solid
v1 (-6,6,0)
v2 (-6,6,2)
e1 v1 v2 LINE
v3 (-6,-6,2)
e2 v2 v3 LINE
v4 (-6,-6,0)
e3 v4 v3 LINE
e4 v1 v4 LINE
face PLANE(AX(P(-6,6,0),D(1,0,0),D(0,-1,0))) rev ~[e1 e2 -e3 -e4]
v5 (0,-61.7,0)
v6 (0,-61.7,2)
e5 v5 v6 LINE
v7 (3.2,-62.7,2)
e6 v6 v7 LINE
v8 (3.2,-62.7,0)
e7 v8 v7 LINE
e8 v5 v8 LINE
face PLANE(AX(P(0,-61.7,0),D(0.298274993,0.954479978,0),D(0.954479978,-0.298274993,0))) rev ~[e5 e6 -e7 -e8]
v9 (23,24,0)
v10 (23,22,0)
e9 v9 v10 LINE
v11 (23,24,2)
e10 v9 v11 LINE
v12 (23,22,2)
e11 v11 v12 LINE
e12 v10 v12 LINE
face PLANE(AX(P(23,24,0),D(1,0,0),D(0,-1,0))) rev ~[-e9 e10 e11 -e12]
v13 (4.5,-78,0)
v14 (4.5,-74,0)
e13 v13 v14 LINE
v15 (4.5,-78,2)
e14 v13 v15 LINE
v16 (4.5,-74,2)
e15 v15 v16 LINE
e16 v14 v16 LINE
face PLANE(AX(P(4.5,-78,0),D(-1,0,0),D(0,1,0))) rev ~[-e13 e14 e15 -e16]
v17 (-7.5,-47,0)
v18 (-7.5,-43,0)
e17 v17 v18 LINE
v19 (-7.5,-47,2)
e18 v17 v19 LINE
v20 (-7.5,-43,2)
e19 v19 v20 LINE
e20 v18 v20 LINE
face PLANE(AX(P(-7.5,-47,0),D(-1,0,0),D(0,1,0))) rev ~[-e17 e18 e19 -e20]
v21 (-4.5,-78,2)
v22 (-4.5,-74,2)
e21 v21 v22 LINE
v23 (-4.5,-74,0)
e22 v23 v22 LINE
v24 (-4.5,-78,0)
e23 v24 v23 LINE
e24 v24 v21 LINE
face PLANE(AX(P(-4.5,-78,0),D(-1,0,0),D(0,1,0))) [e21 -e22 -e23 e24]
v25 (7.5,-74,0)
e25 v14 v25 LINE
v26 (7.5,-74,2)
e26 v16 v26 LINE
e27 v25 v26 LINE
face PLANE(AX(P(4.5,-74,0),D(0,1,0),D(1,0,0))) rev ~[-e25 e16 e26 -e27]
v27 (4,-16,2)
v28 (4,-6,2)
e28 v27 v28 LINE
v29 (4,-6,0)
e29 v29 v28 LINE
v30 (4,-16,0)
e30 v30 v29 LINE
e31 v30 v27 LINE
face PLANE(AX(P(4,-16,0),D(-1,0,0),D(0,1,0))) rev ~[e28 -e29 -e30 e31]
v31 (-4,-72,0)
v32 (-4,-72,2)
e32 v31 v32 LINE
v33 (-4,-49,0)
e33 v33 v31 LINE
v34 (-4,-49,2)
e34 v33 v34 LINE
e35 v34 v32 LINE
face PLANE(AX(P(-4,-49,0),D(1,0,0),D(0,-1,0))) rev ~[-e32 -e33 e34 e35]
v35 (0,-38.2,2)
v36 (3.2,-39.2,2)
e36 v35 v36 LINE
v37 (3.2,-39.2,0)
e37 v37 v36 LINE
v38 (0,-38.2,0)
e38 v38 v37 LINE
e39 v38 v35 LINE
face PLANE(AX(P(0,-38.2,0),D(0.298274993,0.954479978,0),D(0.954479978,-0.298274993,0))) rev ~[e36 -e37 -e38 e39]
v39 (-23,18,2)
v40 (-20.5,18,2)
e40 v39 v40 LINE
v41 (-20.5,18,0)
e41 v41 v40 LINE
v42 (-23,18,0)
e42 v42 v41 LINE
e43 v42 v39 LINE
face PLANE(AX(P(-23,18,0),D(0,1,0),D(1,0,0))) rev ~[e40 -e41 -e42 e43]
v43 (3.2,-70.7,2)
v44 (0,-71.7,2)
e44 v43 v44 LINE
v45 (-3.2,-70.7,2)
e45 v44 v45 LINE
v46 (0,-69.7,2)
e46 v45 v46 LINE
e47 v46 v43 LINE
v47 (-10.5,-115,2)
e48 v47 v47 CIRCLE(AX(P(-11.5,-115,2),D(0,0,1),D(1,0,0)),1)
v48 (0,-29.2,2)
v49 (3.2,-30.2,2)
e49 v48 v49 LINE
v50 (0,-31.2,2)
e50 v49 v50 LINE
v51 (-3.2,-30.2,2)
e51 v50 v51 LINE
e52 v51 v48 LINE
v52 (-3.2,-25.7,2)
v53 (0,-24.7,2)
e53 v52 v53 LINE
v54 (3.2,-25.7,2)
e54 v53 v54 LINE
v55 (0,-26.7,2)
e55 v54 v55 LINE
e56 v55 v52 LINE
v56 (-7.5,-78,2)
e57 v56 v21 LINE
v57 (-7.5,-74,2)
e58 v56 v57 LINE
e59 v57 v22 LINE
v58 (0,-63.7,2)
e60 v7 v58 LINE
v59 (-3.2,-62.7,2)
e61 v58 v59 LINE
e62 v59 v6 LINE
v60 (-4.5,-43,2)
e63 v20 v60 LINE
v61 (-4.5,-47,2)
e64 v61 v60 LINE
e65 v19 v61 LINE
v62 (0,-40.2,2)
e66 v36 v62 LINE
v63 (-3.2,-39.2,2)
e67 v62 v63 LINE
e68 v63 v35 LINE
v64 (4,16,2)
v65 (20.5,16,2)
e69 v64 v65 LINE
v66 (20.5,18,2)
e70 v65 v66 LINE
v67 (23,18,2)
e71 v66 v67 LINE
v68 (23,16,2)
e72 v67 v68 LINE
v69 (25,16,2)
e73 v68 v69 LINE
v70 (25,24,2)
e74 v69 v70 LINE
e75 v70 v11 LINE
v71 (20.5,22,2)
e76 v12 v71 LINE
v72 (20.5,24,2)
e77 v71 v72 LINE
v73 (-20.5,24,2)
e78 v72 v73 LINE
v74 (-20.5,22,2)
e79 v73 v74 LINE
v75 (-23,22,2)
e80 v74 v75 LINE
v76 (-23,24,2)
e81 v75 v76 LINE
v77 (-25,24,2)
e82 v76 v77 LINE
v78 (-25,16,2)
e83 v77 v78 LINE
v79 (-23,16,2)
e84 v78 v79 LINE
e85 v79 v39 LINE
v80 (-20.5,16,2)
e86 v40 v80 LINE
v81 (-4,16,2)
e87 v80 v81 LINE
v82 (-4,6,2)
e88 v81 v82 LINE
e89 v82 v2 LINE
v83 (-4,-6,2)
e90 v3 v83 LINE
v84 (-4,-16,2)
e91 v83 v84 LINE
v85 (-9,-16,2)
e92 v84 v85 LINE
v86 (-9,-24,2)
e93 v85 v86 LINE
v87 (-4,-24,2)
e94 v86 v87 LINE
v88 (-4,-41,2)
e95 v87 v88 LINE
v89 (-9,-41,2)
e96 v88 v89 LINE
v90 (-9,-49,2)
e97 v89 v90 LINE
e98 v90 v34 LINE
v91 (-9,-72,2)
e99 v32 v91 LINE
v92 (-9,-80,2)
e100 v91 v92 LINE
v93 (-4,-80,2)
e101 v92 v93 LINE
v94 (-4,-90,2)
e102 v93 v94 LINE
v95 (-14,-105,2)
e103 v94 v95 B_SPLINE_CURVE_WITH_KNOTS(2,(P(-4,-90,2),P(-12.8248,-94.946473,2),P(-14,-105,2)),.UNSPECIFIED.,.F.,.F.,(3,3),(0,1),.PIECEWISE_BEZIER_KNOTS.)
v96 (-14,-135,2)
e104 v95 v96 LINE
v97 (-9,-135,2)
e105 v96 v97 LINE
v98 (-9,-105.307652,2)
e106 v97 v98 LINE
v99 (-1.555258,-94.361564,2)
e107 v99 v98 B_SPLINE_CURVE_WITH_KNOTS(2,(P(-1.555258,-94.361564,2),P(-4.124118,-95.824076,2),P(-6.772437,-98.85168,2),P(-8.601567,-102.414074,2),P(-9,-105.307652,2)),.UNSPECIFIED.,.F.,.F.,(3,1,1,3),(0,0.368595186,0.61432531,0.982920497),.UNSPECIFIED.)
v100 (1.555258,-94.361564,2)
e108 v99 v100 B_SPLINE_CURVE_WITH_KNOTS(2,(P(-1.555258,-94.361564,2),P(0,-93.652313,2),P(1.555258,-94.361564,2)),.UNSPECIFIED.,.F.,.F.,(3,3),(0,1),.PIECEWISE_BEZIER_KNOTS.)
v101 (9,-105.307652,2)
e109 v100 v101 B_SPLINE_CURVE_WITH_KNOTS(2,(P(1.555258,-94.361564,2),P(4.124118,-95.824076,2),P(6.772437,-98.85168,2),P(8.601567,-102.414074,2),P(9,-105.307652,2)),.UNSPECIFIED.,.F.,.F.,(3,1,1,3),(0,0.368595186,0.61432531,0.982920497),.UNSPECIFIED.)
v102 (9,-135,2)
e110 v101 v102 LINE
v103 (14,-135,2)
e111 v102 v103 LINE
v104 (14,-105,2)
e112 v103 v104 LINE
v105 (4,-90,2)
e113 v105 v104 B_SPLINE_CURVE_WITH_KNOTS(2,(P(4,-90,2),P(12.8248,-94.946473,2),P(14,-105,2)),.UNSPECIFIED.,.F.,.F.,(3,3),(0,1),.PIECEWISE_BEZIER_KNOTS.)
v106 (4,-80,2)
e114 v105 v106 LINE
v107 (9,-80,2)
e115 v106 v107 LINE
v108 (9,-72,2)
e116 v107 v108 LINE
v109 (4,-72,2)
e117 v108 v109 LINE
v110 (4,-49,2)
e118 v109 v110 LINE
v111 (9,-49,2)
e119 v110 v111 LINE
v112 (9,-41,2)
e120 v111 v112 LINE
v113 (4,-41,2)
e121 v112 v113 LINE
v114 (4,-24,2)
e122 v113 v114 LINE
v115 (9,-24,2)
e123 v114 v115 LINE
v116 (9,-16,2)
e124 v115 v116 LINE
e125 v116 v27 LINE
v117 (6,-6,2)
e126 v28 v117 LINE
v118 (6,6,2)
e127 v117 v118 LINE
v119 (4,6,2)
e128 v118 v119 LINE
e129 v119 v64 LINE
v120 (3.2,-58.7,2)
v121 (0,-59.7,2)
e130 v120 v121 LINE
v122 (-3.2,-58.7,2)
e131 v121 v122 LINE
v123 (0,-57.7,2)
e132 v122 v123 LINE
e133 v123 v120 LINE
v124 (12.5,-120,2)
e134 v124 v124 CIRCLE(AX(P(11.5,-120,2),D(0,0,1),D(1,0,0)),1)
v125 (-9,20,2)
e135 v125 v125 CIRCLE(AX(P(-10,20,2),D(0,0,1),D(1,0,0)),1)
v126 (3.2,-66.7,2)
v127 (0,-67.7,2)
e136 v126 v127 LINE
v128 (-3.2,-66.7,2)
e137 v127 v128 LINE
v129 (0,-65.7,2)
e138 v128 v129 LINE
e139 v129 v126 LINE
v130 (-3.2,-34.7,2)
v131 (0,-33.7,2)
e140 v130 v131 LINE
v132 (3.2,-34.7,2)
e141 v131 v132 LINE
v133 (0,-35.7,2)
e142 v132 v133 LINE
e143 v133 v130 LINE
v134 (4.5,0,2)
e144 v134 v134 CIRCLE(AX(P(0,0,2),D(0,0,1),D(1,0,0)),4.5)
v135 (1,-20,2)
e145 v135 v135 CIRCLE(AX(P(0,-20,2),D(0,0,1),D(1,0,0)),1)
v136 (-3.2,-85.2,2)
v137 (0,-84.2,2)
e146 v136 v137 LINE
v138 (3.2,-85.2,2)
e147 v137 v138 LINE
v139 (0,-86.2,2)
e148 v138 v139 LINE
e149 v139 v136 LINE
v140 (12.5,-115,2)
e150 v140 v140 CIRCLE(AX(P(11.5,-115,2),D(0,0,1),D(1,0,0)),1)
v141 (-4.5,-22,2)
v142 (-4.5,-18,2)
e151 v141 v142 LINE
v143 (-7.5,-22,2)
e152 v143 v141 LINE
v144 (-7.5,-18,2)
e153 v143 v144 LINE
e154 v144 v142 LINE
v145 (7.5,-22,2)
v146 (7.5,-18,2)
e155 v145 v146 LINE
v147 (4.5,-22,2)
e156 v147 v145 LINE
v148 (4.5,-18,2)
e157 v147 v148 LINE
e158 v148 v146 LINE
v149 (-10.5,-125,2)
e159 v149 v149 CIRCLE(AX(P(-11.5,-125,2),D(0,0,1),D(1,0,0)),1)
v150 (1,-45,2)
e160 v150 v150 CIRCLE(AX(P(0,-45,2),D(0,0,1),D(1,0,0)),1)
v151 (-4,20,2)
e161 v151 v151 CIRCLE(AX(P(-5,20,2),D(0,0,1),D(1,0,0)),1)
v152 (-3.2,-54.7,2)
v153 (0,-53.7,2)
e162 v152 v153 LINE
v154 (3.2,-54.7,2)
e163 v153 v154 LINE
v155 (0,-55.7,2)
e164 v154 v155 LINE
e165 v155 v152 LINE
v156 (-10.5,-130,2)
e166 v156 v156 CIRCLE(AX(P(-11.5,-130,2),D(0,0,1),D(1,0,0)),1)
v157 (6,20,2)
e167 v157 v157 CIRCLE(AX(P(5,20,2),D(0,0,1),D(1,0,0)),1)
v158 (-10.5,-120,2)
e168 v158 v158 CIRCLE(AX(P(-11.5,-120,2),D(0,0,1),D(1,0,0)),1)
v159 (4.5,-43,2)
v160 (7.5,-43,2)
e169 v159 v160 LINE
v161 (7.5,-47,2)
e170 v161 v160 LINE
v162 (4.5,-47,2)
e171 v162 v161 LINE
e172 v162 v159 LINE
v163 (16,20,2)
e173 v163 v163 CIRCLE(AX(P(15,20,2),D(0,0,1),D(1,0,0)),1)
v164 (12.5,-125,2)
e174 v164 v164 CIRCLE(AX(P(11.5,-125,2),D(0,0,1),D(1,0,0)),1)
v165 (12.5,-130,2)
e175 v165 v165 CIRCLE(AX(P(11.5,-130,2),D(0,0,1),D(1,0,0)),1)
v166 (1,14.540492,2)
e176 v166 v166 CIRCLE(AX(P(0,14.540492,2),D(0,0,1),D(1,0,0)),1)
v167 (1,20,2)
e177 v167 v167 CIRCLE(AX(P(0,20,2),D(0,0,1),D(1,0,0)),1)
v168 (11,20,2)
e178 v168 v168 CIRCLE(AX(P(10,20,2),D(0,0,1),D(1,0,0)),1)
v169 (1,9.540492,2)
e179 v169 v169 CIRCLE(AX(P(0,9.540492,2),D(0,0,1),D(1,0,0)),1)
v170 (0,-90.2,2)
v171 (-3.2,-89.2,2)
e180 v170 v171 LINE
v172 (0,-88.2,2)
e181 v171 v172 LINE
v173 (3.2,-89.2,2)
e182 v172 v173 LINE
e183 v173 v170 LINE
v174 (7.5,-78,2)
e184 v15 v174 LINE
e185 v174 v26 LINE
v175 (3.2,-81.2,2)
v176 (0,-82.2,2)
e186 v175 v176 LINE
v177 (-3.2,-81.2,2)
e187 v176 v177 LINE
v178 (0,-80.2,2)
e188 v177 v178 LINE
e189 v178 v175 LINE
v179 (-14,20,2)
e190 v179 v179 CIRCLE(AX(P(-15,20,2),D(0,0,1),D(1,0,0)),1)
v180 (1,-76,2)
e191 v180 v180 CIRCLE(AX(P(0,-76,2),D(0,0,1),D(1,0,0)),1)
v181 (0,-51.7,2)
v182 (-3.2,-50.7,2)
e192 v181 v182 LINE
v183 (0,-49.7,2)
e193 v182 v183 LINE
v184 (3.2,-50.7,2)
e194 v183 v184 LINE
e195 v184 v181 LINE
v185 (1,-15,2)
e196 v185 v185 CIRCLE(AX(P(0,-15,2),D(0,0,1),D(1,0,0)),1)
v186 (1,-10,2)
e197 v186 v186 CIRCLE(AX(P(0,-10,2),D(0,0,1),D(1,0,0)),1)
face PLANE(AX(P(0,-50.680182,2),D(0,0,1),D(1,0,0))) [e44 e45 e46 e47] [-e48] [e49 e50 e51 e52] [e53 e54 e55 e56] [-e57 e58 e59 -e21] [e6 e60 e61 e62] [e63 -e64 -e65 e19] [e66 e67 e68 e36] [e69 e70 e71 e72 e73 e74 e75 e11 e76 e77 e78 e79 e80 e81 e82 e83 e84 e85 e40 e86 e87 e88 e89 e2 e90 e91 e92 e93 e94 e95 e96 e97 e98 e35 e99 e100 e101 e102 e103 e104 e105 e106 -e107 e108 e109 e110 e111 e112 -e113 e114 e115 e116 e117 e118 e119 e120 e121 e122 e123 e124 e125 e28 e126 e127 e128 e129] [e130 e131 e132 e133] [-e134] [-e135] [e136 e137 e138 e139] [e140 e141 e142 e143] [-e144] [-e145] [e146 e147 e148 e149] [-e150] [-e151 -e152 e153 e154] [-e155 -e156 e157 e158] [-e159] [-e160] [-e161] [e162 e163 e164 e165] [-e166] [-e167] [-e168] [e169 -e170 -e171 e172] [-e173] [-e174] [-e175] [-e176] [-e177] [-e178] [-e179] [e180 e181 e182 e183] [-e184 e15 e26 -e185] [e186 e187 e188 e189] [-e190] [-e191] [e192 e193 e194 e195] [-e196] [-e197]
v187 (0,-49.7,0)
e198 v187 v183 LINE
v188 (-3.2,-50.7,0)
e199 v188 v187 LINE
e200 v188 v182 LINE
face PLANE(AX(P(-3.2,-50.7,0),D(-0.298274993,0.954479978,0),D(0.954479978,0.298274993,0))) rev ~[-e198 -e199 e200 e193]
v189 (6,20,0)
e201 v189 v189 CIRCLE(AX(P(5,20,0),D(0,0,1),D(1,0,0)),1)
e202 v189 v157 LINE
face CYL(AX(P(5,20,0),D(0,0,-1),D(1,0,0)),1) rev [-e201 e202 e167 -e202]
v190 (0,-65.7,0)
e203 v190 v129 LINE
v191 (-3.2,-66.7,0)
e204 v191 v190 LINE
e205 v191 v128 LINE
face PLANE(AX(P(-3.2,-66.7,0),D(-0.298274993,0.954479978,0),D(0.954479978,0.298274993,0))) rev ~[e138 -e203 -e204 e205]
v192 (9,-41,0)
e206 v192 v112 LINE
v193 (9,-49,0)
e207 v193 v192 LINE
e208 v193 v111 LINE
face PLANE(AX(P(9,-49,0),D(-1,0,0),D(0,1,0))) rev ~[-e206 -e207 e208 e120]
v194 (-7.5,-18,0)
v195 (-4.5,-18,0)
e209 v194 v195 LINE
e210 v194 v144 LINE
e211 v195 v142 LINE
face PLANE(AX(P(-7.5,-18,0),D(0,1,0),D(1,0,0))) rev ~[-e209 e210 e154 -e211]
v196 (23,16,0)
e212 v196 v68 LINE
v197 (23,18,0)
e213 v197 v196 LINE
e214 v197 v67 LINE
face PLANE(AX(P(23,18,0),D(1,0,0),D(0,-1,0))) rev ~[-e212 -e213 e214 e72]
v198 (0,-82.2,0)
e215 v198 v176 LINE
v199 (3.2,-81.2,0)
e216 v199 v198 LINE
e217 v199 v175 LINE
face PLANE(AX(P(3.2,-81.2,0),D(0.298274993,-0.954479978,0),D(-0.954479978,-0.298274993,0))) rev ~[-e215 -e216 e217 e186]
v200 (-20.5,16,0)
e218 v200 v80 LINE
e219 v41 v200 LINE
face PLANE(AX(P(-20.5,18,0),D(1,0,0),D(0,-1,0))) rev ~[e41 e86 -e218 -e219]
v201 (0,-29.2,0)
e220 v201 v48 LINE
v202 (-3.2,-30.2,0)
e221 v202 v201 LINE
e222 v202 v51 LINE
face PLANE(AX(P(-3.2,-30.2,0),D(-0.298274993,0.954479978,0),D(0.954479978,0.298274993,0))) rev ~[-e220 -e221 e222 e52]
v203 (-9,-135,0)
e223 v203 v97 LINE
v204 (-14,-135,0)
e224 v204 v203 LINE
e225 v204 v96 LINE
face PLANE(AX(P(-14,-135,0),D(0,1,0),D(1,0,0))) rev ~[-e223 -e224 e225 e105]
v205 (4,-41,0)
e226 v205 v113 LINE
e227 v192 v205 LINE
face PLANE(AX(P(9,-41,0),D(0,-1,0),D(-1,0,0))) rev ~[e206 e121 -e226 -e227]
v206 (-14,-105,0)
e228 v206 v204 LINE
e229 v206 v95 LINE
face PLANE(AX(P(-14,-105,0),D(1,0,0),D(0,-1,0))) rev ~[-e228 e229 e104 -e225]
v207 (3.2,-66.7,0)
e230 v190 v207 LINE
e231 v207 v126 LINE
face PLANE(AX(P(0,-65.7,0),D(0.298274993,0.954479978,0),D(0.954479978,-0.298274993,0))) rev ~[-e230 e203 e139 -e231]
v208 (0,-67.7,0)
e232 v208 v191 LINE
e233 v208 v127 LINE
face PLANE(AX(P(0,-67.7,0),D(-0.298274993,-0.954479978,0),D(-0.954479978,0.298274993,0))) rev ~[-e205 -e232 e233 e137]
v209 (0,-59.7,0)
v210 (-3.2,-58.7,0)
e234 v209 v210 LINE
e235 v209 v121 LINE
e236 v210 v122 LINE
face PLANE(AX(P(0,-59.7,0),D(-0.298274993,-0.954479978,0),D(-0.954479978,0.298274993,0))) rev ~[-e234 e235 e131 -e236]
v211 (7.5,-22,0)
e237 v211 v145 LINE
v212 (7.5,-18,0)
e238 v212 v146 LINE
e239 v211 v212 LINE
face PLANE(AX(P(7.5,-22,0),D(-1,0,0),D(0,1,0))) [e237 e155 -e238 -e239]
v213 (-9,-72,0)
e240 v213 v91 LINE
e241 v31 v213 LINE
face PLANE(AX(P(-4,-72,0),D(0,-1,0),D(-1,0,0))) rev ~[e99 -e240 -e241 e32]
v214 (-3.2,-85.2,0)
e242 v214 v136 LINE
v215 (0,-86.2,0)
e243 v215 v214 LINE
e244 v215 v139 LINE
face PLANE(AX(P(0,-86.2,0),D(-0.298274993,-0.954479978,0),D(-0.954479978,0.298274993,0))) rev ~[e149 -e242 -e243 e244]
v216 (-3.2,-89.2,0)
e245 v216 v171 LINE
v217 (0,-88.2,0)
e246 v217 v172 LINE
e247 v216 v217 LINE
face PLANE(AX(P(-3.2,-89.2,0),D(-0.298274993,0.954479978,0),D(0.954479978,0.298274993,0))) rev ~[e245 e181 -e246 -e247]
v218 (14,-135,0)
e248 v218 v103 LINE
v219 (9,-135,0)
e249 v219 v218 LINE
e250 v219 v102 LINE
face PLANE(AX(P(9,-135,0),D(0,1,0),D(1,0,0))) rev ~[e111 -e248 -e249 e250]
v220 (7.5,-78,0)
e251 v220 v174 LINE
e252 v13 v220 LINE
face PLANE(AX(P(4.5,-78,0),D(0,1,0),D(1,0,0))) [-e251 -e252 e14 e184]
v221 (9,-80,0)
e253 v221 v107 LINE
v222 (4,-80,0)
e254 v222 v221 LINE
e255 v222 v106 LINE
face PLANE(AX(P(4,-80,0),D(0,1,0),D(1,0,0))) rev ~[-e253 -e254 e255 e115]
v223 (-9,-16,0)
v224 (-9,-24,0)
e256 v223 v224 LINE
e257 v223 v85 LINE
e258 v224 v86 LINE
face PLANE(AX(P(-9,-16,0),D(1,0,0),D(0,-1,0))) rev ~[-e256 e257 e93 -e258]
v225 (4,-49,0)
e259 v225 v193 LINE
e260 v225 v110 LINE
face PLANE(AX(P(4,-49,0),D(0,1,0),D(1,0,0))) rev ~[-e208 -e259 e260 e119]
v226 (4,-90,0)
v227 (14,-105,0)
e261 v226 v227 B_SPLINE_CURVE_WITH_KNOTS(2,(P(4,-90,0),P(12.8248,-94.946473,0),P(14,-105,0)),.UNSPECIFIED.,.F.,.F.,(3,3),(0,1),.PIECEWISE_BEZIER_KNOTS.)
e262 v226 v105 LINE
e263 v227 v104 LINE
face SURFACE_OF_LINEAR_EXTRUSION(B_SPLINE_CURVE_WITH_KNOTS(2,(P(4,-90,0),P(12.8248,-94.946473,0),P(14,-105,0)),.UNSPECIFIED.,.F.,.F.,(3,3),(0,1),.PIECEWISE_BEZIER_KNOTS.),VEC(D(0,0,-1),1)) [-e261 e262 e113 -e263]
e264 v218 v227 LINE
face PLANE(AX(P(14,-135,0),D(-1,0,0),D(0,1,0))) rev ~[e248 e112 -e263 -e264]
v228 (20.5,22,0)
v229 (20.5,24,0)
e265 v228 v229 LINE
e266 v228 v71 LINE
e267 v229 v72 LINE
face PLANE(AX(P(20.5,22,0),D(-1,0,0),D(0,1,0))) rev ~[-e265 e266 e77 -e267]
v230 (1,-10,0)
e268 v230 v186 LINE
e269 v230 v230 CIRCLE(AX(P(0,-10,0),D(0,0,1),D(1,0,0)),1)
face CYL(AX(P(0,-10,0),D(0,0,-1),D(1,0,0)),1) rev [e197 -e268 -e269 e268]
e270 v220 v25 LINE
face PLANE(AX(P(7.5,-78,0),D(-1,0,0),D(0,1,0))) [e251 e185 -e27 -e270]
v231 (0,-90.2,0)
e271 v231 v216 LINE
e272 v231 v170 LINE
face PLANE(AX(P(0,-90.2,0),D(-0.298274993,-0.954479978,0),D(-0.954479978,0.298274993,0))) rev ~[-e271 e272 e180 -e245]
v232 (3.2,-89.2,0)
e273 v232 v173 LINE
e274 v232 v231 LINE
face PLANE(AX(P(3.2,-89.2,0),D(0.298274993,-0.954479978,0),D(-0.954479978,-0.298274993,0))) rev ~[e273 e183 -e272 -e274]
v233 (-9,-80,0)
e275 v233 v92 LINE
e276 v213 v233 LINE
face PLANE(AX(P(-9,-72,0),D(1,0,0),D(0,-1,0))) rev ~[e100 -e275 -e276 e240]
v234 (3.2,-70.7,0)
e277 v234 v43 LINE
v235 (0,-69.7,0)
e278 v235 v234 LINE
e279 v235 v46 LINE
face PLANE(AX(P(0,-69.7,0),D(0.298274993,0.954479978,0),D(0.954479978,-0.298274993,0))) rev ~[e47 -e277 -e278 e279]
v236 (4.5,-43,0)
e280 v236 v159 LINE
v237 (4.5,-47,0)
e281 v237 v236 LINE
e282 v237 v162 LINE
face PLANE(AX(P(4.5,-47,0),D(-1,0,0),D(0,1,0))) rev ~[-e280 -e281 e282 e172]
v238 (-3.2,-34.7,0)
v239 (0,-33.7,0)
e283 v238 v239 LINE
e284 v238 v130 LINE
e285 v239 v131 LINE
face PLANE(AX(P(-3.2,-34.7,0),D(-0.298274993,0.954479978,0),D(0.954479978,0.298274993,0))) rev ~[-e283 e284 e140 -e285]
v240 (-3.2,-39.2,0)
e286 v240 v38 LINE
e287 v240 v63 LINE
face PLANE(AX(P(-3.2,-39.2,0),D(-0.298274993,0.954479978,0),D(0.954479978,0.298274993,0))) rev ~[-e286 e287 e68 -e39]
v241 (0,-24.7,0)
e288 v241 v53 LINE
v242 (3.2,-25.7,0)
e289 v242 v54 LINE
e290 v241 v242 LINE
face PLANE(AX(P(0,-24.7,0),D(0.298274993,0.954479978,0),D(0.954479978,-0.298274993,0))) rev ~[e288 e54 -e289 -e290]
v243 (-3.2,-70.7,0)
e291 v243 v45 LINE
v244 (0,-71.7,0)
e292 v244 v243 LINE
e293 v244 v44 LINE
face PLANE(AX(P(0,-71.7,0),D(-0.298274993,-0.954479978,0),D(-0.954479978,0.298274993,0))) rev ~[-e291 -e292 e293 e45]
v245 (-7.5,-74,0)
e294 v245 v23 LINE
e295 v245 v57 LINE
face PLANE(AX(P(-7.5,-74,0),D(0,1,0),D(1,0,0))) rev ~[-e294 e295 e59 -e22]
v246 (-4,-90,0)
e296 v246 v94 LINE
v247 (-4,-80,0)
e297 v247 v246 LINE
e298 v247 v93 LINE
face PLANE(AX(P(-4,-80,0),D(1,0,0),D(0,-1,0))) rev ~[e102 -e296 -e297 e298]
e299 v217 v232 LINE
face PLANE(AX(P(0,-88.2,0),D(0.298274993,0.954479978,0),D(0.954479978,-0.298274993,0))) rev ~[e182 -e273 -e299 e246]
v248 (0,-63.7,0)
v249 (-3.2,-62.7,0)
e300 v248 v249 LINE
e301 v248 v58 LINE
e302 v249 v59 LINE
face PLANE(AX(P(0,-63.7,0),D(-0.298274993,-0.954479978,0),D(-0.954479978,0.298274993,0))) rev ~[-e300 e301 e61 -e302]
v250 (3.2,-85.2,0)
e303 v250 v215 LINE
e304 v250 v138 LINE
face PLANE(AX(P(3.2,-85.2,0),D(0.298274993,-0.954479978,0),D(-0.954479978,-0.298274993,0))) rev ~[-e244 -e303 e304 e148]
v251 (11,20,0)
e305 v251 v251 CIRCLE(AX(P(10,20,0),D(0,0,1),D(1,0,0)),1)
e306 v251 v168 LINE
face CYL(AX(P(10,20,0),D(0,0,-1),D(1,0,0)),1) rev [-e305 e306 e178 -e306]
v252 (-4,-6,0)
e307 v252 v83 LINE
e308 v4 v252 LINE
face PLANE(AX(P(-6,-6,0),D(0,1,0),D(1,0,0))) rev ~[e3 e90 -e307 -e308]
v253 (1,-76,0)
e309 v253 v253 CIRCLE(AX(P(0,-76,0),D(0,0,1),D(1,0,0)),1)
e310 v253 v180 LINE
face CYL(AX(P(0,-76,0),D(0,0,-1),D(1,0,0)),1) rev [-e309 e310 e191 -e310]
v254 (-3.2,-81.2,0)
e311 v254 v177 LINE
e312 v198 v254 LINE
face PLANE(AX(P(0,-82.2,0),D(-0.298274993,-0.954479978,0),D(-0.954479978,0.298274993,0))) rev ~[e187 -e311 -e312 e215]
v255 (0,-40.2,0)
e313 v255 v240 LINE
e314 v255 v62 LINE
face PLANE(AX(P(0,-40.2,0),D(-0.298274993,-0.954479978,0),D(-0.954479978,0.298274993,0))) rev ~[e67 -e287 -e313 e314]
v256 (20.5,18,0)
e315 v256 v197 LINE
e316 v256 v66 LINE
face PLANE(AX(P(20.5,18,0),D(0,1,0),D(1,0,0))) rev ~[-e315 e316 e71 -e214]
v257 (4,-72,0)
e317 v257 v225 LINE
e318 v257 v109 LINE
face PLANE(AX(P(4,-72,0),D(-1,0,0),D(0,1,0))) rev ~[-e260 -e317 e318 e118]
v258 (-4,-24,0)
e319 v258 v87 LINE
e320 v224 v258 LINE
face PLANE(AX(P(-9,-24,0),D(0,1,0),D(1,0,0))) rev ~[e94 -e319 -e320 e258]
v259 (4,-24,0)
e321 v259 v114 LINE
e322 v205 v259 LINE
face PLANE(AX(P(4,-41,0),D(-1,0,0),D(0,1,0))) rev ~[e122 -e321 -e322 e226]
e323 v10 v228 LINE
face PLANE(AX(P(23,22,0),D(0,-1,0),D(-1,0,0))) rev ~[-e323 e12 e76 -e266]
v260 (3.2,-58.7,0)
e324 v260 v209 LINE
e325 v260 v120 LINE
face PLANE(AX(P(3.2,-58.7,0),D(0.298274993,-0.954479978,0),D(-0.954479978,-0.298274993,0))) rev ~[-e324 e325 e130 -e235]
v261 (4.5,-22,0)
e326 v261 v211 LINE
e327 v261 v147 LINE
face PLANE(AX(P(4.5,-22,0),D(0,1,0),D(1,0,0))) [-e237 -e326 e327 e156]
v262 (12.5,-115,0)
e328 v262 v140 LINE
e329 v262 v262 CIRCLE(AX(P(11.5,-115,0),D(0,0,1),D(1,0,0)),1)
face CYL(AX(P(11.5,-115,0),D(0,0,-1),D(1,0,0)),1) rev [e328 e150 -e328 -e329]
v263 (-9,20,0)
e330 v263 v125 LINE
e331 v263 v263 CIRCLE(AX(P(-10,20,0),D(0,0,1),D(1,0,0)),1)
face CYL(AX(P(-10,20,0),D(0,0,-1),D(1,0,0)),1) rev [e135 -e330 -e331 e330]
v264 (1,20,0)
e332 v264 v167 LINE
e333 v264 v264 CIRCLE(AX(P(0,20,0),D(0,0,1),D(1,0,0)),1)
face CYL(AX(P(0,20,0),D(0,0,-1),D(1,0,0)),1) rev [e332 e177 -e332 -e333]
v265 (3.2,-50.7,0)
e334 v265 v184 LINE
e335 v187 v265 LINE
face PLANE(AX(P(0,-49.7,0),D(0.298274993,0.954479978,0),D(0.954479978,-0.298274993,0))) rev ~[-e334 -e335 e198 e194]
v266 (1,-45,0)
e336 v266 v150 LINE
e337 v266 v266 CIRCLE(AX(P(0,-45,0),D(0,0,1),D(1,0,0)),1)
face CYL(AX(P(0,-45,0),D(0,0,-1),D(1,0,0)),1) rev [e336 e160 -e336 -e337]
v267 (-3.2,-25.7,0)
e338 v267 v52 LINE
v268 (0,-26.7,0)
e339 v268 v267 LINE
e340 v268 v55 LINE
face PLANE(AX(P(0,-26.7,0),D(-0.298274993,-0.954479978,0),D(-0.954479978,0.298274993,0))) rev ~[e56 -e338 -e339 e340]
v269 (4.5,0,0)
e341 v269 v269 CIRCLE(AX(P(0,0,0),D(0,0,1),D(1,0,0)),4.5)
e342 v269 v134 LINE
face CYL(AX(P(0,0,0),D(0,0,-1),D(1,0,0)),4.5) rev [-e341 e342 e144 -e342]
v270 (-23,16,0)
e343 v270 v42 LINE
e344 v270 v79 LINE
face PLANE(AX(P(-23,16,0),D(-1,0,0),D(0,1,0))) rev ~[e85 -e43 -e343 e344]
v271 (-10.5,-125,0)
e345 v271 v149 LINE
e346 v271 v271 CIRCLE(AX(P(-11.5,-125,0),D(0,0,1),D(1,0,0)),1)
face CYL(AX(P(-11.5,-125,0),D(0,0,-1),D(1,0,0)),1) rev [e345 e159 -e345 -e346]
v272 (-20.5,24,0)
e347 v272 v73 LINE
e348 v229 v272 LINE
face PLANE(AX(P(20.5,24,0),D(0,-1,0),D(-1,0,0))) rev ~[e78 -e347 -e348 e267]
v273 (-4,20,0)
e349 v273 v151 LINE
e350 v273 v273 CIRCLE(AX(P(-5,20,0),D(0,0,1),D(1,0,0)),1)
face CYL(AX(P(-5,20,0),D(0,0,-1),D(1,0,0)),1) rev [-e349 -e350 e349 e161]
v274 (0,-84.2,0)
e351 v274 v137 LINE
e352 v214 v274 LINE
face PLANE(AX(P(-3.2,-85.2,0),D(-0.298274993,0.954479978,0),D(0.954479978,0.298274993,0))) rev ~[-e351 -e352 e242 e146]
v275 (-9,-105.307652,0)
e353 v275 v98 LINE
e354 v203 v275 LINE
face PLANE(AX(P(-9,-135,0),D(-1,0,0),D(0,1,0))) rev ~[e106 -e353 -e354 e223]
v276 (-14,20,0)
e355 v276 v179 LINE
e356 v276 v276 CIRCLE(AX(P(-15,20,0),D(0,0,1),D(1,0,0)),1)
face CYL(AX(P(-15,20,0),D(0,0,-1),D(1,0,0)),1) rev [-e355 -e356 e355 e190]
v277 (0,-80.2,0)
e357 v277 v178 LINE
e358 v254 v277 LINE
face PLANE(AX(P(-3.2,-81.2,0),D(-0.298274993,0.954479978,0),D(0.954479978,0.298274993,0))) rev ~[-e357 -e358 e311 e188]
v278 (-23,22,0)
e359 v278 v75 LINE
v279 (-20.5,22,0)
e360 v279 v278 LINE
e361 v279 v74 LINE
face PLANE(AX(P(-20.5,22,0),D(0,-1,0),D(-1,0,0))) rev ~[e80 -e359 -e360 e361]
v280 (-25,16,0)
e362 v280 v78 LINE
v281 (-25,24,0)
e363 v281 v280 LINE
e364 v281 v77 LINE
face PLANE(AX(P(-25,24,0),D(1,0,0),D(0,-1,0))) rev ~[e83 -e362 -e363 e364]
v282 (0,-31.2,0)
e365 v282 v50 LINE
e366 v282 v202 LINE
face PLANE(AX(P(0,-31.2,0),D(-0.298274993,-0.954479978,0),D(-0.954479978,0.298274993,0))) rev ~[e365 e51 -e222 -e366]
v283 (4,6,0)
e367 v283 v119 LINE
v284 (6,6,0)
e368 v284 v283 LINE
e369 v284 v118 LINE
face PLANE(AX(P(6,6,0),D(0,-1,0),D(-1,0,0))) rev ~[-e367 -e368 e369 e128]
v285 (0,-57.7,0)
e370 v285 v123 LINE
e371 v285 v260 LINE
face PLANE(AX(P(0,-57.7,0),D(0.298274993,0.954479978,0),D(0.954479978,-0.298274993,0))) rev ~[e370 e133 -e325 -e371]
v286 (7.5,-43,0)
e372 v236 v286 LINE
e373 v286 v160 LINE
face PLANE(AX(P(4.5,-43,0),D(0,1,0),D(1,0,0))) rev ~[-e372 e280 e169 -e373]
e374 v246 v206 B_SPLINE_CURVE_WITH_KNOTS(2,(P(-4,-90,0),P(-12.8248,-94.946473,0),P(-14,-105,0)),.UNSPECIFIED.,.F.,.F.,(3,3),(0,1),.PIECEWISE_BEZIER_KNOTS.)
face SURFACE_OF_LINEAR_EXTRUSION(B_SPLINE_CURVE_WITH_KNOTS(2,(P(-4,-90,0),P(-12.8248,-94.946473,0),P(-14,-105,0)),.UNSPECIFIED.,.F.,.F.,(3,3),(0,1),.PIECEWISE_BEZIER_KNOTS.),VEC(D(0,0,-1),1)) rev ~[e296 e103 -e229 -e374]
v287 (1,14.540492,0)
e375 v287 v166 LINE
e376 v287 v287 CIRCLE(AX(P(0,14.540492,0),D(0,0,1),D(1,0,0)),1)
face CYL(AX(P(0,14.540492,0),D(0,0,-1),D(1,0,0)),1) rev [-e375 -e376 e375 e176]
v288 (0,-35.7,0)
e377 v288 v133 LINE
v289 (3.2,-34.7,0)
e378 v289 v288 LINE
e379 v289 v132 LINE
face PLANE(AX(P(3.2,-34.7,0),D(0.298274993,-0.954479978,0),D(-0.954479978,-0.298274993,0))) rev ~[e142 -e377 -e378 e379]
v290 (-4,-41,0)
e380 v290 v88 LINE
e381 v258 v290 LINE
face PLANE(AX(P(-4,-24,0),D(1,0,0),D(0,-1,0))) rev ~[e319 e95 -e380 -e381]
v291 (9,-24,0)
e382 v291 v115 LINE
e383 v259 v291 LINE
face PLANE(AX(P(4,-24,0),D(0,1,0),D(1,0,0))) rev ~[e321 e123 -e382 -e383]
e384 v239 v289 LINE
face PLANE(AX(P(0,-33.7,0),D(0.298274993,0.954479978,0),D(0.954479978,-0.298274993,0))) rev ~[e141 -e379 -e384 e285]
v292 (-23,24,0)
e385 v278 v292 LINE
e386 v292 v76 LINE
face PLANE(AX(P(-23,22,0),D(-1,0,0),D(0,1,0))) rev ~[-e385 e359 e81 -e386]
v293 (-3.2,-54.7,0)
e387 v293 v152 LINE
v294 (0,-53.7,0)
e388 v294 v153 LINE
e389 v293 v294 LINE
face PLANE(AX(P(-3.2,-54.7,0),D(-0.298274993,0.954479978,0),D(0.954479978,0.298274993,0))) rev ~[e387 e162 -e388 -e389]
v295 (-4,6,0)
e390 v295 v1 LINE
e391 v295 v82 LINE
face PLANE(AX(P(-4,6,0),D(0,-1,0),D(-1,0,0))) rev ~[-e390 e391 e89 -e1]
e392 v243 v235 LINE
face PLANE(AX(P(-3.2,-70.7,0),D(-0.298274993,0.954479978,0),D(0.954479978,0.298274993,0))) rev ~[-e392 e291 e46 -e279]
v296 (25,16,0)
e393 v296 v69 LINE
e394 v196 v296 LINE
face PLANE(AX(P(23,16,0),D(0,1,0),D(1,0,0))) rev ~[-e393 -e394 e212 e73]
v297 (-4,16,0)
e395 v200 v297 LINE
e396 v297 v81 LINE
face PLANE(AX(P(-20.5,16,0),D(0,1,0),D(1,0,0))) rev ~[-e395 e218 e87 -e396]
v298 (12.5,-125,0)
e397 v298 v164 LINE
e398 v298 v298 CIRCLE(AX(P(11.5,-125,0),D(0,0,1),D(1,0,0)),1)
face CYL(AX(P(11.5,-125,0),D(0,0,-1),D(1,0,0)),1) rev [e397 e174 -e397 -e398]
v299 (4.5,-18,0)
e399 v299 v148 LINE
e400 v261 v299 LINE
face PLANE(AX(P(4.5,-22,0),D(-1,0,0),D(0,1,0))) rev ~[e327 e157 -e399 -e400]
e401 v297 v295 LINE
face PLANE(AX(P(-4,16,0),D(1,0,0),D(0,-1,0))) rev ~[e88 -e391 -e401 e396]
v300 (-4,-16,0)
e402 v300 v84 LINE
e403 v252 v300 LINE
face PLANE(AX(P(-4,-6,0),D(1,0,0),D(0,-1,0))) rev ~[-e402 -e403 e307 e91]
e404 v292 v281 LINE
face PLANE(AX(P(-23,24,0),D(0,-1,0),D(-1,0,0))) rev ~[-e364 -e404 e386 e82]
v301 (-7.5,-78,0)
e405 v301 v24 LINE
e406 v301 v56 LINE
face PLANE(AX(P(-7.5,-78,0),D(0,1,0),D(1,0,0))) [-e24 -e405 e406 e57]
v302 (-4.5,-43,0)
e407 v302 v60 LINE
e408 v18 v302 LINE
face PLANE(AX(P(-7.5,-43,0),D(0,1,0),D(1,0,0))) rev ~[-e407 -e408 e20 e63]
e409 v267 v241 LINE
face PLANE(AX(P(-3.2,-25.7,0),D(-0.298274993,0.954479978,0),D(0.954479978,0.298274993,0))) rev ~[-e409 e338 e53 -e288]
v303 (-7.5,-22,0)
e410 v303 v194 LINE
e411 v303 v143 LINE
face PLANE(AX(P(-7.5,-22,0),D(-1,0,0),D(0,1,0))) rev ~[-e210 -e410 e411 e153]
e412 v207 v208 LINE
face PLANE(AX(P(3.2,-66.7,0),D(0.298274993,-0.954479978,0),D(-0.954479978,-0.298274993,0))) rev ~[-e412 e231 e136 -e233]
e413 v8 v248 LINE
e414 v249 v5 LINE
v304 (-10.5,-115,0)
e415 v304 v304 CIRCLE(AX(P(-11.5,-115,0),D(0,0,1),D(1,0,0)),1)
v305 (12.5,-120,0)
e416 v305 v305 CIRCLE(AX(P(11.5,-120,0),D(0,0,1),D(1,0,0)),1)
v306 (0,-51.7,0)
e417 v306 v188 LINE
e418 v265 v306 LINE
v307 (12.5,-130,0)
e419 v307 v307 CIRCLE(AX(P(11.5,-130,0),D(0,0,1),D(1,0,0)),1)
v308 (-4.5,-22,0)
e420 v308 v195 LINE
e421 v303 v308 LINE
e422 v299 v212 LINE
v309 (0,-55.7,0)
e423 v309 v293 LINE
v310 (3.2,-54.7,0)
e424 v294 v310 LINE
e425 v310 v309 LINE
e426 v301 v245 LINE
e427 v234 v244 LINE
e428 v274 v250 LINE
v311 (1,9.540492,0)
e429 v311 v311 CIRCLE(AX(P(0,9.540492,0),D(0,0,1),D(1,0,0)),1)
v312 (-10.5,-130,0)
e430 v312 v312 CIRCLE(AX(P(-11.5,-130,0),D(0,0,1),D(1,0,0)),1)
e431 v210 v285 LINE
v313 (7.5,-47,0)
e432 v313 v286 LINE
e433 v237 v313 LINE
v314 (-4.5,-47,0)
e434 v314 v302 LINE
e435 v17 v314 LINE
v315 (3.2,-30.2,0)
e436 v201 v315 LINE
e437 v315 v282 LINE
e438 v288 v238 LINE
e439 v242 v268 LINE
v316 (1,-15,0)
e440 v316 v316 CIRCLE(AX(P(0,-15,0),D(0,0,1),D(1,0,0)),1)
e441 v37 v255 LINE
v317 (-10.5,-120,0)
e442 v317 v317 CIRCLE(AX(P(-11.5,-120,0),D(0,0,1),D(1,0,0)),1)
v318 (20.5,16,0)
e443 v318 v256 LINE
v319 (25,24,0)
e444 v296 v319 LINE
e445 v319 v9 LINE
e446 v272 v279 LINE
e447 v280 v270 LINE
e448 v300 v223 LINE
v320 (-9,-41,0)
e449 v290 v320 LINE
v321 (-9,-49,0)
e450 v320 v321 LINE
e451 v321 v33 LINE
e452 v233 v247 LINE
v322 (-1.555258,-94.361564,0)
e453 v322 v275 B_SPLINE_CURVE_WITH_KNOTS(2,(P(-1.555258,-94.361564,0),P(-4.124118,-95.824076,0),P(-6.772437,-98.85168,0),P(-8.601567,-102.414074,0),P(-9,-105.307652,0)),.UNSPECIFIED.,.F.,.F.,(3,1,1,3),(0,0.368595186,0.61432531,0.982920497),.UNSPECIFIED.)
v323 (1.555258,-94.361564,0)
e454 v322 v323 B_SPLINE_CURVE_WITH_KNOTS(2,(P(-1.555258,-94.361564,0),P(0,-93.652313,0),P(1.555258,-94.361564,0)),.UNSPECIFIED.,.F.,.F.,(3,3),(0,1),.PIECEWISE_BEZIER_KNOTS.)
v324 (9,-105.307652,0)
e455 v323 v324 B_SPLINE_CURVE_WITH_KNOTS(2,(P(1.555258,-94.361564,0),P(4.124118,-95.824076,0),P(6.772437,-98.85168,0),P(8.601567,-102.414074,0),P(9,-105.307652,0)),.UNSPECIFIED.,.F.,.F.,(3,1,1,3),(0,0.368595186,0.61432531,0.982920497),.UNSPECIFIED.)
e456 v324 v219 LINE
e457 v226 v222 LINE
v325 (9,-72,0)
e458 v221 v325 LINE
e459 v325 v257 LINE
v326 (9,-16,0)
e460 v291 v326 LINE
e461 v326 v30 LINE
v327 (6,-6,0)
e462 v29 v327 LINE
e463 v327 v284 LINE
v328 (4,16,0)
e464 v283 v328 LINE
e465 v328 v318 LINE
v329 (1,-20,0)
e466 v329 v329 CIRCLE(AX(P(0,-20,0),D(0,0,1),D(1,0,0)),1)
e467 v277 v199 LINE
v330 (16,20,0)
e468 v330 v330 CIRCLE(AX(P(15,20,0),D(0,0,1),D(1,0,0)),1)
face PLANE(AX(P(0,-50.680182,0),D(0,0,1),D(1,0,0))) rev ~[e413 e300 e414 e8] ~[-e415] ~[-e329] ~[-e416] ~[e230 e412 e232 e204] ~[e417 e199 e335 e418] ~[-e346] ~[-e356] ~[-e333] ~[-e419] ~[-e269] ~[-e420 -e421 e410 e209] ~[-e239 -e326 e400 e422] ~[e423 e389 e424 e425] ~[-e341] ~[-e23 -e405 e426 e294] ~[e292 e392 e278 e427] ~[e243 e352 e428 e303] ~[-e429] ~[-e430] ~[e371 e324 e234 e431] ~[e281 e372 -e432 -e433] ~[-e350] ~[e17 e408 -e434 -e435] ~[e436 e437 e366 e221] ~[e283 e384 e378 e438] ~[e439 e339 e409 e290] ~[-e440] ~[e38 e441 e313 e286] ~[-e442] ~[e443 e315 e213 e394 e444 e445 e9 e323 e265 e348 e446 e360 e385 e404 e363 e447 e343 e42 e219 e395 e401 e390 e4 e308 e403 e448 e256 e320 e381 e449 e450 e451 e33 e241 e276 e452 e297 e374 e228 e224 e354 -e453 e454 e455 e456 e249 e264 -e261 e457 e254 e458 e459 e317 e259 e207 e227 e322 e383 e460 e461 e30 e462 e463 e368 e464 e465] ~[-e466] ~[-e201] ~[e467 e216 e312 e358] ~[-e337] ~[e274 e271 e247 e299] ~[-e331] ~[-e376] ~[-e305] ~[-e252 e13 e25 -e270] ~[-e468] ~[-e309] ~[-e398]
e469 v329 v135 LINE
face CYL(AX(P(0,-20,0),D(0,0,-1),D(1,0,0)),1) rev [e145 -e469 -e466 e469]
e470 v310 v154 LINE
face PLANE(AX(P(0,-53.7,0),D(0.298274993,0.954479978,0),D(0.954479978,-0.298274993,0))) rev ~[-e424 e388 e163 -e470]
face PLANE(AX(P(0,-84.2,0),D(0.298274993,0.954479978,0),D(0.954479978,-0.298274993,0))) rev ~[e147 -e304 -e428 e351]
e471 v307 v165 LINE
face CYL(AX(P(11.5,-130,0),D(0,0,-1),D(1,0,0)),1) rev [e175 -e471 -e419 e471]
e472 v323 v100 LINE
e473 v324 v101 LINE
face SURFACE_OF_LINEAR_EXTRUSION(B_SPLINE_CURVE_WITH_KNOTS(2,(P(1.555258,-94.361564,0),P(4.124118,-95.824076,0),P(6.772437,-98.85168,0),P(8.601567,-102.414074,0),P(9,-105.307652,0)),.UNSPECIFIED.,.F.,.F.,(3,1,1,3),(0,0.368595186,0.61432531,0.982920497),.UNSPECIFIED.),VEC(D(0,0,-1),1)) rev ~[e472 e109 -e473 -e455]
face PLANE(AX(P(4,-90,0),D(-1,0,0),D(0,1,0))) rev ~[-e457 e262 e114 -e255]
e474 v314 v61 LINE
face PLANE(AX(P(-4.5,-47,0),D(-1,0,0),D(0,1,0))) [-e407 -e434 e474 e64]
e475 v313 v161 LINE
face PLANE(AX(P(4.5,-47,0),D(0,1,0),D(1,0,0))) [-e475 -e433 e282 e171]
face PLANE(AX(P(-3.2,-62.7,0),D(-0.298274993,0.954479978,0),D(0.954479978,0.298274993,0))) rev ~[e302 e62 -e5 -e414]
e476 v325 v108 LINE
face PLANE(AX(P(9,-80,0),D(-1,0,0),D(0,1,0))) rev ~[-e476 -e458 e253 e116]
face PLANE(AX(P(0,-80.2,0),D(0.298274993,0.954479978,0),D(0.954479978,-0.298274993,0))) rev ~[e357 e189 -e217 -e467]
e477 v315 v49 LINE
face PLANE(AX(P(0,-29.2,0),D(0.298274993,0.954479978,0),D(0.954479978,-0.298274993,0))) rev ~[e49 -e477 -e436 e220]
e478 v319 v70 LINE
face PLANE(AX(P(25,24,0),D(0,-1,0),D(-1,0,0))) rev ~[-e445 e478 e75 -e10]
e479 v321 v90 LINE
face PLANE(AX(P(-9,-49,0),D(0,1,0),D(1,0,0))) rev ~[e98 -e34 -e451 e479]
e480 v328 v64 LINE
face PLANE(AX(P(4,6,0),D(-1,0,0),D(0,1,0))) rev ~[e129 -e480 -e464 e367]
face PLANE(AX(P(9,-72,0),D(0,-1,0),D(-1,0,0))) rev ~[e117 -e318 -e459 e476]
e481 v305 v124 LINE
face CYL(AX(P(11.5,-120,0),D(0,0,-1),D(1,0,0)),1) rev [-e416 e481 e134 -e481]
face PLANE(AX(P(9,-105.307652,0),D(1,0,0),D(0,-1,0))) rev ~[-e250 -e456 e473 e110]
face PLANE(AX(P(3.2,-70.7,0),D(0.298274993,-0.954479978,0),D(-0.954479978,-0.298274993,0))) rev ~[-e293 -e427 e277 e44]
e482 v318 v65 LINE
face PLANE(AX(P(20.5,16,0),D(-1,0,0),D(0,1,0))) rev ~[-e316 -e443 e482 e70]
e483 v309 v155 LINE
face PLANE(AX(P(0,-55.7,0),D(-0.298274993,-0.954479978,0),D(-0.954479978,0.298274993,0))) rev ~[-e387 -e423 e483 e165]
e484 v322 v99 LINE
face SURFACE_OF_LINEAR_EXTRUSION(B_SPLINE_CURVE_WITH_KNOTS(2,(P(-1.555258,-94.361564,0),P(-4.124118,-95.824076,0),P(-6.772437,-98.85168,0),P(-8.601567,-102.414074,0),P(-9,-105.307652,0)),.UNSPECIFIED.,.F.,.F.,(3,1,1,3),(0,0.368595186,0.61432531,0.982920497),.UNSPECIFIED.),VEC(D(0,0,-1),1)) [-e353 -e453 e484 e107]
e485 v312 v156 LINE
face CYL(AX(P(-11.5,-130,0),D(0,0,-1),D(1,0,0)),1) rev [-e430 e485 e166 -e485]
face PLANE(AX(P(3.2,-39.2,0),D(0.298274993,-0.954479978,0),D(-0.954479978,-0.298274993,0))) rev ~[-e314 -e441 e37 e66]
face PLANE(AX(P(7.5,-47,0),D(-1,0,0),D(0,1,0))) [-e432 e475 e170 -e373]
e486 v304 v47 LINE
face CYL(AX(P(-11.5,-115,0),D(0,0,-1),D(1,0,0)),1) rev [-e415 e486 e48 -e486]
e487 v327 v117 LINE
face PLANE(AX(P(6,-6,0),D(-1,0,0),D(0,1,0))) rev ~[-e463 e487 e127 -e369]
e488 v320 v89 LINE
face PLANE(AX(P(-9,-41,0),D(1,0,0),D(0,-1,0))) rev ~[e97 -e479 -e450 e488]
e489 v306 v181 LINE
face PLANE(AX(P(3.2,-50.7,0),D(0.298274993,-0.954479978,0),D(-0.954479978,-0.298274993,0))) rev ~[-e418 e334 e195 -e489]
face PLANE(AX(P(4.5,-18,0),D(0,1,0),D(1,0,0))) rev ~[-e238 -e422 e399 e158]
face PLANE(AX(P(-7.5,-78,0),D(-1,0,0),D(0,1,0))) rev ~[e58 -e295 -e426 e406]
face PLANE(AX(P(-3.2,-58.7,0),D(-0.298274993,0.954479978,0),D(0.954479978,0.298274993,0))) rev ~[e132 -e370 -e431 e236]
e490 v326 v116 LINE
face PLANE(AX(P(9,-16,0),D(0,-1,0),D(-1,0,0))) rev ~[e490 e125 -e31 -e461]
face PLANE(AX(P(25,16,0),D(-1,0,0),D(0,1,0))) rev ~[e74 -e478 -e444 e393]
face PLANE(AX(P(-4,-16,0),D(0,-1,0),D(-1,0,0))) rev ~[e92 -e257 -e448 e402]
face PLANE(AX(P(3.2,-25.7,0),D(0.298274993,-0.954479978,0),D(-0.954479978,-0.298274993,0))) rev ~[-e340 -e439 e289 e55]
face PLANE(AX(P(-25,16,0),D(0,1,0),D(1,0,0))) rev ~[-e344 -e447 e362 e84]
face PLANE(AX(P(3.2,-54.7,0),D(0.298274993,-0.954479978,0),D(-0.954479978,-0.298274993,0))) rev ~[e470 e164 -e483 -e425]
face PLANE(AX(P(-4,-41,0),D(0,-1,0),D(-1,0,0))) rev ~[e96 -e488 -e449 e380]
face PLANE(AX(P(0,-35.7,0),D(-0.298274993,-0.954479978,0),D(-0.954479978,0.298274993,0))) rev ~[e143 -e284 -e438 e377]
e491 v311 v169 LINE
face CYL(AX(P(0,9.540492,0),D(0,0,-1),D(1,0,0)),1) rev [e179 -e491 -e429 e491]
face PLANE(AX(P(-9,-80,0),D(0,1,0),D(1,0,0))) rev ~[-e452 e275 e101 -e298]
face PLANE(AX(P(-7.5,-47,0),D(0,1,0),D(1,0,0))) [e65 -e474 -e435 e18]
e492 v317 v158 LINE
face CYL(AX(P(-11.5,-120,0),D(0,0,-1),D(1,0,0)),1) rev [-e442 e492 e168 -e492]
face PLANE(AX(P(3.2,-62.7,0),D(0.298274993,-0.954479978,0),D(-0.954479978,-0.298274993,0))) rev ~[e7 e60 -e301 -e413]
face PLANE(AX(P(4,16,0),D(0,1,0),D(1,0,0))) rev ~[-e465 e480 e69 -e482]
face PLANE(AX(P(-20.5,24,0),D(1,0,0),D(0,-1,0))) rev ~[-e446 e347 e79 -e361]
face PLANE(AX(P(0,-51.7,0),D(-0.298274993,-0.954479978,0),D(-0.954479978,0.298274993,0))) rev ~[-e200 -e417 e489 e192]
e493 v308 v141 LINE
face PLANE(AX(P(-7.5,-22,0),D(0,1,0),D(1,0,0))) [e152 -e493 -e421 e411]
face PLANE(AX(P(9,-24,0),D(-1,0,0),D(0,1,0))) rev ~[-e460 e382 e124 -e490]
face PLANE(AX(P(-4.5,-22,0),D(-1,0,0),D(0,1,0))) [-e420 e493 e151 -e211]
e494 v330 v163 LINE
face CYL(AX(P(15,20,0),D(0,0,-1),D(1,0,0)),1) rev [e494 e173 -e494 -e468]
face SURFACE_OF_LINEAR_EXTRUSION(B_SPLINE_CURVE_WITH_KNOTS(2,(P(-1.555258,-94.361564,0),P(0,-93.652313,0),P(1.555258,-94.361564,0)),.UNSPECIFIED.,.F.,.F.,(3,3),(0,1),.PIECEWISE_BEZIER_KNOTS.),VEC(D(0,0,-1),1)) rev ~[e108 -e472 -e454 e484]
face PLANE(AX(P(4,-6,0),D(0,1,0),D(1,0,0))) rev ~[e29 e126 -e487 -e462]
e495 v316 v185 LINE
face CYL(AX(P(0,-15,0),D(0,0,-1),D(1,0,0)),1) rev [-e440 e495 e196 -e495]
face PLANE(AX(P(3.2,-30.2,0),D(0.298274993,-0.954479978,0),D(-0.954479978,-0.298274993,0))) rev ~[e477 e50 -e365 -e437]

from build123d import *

# Parameters (mm, degrees)
SKETCH_1_R      = 4.5
SKETCH_1_R_2    = 1
SKETCH_1_W      = 3
SKETCH_1_H      = 4
EXTRUDE_1_DEPTH = 2


with BuildPart() as part:
    # 草图1 → 凸台-拉伸1 (new body)
    with BuildSketch(Plane.XY):
        with BuildLine():
            Line((6, 6), (4, 6))
            Line((4, 6), (4, 16))
            Line((4, 16), (20.5, 16))
            Line((20.5, 16), (20.5, 18))
            Line((20.5, 18), (23, 18))
            Line((23, 18), (23, 16))
            Line((23, 16), (25, 16))
            Line((25, 16), (25, 24))
            Line((25, 24), (23, 24))
            Line((23, 24), (23, 22))
            Line((23, 22), (20.5, 22))
            Line((20.5, 22), (20.5, 24))
            Line((20.5, 24), (-20.5, 24))
            Line((-20.5, 24), (-20.5, 22))
            Line((-20.5, 22), (-23, 22))
            Line((-23, 22), (-23, 24))
            Line((-23, 24), (-25, 24))
            Line((-25, 24), (-25, 16))
            Line((-25, 16), (-23, 16))
            Line((-23, 16), (-23, 18))
            Line((-23, 18), (-20.5, 18))
            Line((-20.5, 18), (-20.5, 16))
            Line((-20.5, 16), (-4, 16))
            Line((-4, 16), (-4, 6))
            Line((-4, 6), (-6, 6))
            Line((-6, 6), (-6, -6))
            Line((-6, -6), (-4, -6))
            Line((-4, -6), (-4, -16))
            Line((-4, -16), (-9, -16))
            Line((-9, -16), (-9, -24))
            Line((-9, -24), (-4, -24))
            Line((-4, -24), (-4, -41))
            Line((-4, -41), (-9, -41))
            Line((-9, -41), (-9, -49))
            Line((-9, -49), (-4, -49))
            Line((-4, -49), (-4, -72))
            Line((-4, -72), (-9, -72))
            Line((-9, -72), (-9, -80))
            Line((-9, -80), (-4, -80))
            Line((-4, -80), (-4, -90))
            add(Edge.make_bspline(
                [(-4, -90), (-12.824800186, -94.946472906), (-14, -105)],
                knots=[0, 0, 0, 1, 1, 1], degree=2))
            Line((-14, -105), (-14, -135))
            Line((-14, -135), (-9, -135))
            Line((-9, -135), (-9, -105.307652325))
            add(Edge.make_bspline(
                [(-1.555258324, -94.361563726), (-4.124118351, -95.824075576), (-6.772437427, -98.85168045), (-8.60156745, -102.414074006), (-9, -105.307652325)],
                knots=[0, 0, 0, 0.368595186, 0.61432531, 0.982920497, 0.982920497, 0.982920497], degree=2))
            add(Edge.make_bspline(
                [(-1.555258324, -94.361563726), (0, -93.652312688), (1.555258324, -94.361563726)],
                knots=[0, 0, 0, 1, 1, 1], degree=2))
            add(Edge.make_bspline(
                [(1.555258324, -94.361563726), (4.124118351, -95.824075576), (6.772437427, -98.85168045), (8.60156745, -102.414074006), (9, -105.307652325)],
                knots=[0, 0, 0, 0.368595186, 0.61432531, 0.982920497, 0.982920497, 0.982920497], degree=2))
            Line((9, -105.307652325), (9, -135))
            Line((9, -135), (14, -135))
            Line((14, -135), (14, -105))
            add(Edge.make_bspline(
                [(4, -90), (12.824800186, -94.946472906), (14, -105)],
                knots=[0, 0, 0, 1, 1, 1], degree=2))
            Line((4, -90), (4, -80))
            Line((4, -80), (9, -80))
            Line((9, -80), (9, -72))
            Line((9, -72), (4, -72))
            Line((4, -72), (4, -49))
            Line((4, -49), (9, -49))
            Line((9, -49), (9, -41))
            Line((9, -41), (4, -41))
            Line((4, -41), (4, -24))
            Line((4, -24), (9, -24))
            Line((9, -24), (9, -16))
            Line((9, -16), (4, -16))
            Line((4, -16), (4, -6))
            Line((4, -6), (6, -6))
            Line((6, -6), (6, 6))
        make_face()
        Circle(SKETCH_1_R, mode=Mode.SUBTRACT)
        with Locations((15, 20.000000004)):
            Circle(SKETCH_1_R_2, mode=Mode.SUBTRACT)
        with Locations((-15, 20.000000004)):
            Circle(SKETCH_1_R_2, mode=Mode.SUBTRACT)
        with Locations((-10, 20.000000004)):
            Circle(SKETCH_1_R_2, mode=Mode.SUBTRACT)
        with Locations((-5, 20.000000004)):
            Circle(SKETCH_1_R_2, mode=Mode.SUBTRACT)
        with Locations((0, 14.54049212)):
            Circle(SKETCH_1_R_2, mode=Mode.SUBTRACT)
        with Locations((0, 9.54049212)):
            Circle(SKETCH_1_R_2, mode=Mode.SUBTRACT)
        with Locations((0, 20.000000004)):
            Circle(SKETCH_1_R_2, mode=Mode.SUBTRACT)
        with Locations((5, 20.000000004)):
            Circle(SKETCH_1_R_2, mode=Mode.SUBTRACT)
        with Locations((10, 20.000000004)):
            Circle(SKETCH_1_R_2, mode=Mode.SUBTRACT)
        with Locations((6, -20)):
            Rectangle(SKETCH_1_W, SKETCH_1_H, mode=Mode.SUBTRACT)
        with Locations((-11.5, -130)):
            Circle(SKETCH_1_R_2, mode=Mode.SUBTRACT)
        with Locations((-11.5, -125)):
            Circle(SKETCH_1_R_2, mode=Mode.SUBTRACT)
        with Locations((-11.5, -120)):
            Circle(SKETCH_1_R_2, mode=Mode.SUBTRACT)
        with Locations((-11.5, -115)):
            Circle(SKETCH_1_R_2, mode=Mode.SUBTRACT)
        with Locations((-6, -76)):
            Rectangle(SKETCH_1_W, SKETCH_1_H, mode=Mode.SUBTRACT)
        with Locations((11.5, -130)):
            Circle(SKETCH_1_R_2, mode=Mode.SUBTRACT)
        with Locations((11.5, -125)):
            Circle(SKETCH_1_R_2, mode=Mode.SUBTRACT)
        with Locations((11.5, -120)):
            Circle(SKETCH_1_R_2, mode=Mode.SUBTRACT)
        with Locations((11.5, -115)):
            Circle(SKETCH_1_R_2, mode=Mode.SUBTRACT)
        Polygon((-3.2, -89.2), (0, -88.2), (3.2, -89.2), (0, -90.2), align=None, mode=Mode.SUBTRACT)
        Polygon((-3.2, -85.2), (0, -84.2), (3.2, -85.2), (0, -86.2), align=None, mode=Mode.SUBTRACT)
        Polygon((-3.2, -81.2), (0, -80.2), (3.2, -81.2), (0, -82.2), align=None, mode=Mode.SUBTRACT)
        with Locations((6, -76)):
            Rectangle(SKETCH_1_W, SKETCH_1_H, mode=Mode.SUBTRACT)
        with Locations((0, -76)):
            Circle(SKETCH_1_R_2, mode=Mode.SUBTRACT)
        Polygon((-3.2, -70.7), (0, -69.7), (3.2, -70.7), (0, -71.7), align=None, mode=Mode.SUBTRACT)
        Polygon((-3.2, -66.7), (0, -65.7), (3.2, -66.7), (0, -67.7), align=None, mode=Mode.SUBTRACT)
        Polygon((-3.2, -62.7), (0, -61.7), (3.2, -62.7), (0, -63.7), align=None, mode=Mode.SUBTRACT)
        Polygon((-3.2, -58.7), (0, -57.7), (3.2, -58.7), (0, -59.7), align=None, mode=Mode.SUBTRACT)
        with Locations((-6, -45)):
            Rectangle(SKETCH_1_W, SKETCH_1_H, mode=Mode.SUBTRACT)
        Polygon((-3.2, -39.2), (0, -38.2), (3.2, -39.2), (0, -40.2), align=None, mode=Mode.SUBTRACT)
        Polygon((-3.2, -34.7), (0, -33.7), (3.2, -34.7), (0, -35.7), align=None, mode=Mode.SUBTRACT)
        Polygon((-3.2, -30.2), (0, -29.2), (3.2, -30.2), (0, -31.2), align=None, mode=Mode.SUBTRACT)
        Polygon((-3.2, -25.7), (0, -24.7), (3.2, -25.7), (0, -26.7), align=None, mode=Mode.SUBTRACT)
        with Locations((-6, -20)):
            Rectangle(SKETCH_1_W, SKETCH_1_H, mode=Mode.SUBTRACT)
        with Locations((0, -15)):
            Circle(SKETCH_1_R_2, mode=Mode.SUBTRACT)
        with Locations((0, -10)):
            Circle(SKETCH_1_R_2, mode=Mode.SUBTRACT)
        Polygon((-3.2, -54.7), (0, -53.7), (3.2, -54.7), (0, -55.7), align=None, mode=Mode.SUBTRACT)
        Polygon((-3.2, -50.7), (0, -49.7), (3.2, -50.7), (0, -51.7), align=None, mode=Mode.SUBTRACT)
        with Locations((0, -45)):
            Circle(SKETCH_1_R_2, mode=Mode.SUBTRACT)
        with Locations((6, -45)):
            Rectangle(SKETCH_1_W, SKETCH_1_H, mode=Mode.SUBTRACT)
        with Locations((0, -20)):
            Circle(SKETCH_1_R_2, mode=Mode.SUBTRACT)
    extrude(amount=EXTRUDE_1_DEPTH)


solid = part.part
